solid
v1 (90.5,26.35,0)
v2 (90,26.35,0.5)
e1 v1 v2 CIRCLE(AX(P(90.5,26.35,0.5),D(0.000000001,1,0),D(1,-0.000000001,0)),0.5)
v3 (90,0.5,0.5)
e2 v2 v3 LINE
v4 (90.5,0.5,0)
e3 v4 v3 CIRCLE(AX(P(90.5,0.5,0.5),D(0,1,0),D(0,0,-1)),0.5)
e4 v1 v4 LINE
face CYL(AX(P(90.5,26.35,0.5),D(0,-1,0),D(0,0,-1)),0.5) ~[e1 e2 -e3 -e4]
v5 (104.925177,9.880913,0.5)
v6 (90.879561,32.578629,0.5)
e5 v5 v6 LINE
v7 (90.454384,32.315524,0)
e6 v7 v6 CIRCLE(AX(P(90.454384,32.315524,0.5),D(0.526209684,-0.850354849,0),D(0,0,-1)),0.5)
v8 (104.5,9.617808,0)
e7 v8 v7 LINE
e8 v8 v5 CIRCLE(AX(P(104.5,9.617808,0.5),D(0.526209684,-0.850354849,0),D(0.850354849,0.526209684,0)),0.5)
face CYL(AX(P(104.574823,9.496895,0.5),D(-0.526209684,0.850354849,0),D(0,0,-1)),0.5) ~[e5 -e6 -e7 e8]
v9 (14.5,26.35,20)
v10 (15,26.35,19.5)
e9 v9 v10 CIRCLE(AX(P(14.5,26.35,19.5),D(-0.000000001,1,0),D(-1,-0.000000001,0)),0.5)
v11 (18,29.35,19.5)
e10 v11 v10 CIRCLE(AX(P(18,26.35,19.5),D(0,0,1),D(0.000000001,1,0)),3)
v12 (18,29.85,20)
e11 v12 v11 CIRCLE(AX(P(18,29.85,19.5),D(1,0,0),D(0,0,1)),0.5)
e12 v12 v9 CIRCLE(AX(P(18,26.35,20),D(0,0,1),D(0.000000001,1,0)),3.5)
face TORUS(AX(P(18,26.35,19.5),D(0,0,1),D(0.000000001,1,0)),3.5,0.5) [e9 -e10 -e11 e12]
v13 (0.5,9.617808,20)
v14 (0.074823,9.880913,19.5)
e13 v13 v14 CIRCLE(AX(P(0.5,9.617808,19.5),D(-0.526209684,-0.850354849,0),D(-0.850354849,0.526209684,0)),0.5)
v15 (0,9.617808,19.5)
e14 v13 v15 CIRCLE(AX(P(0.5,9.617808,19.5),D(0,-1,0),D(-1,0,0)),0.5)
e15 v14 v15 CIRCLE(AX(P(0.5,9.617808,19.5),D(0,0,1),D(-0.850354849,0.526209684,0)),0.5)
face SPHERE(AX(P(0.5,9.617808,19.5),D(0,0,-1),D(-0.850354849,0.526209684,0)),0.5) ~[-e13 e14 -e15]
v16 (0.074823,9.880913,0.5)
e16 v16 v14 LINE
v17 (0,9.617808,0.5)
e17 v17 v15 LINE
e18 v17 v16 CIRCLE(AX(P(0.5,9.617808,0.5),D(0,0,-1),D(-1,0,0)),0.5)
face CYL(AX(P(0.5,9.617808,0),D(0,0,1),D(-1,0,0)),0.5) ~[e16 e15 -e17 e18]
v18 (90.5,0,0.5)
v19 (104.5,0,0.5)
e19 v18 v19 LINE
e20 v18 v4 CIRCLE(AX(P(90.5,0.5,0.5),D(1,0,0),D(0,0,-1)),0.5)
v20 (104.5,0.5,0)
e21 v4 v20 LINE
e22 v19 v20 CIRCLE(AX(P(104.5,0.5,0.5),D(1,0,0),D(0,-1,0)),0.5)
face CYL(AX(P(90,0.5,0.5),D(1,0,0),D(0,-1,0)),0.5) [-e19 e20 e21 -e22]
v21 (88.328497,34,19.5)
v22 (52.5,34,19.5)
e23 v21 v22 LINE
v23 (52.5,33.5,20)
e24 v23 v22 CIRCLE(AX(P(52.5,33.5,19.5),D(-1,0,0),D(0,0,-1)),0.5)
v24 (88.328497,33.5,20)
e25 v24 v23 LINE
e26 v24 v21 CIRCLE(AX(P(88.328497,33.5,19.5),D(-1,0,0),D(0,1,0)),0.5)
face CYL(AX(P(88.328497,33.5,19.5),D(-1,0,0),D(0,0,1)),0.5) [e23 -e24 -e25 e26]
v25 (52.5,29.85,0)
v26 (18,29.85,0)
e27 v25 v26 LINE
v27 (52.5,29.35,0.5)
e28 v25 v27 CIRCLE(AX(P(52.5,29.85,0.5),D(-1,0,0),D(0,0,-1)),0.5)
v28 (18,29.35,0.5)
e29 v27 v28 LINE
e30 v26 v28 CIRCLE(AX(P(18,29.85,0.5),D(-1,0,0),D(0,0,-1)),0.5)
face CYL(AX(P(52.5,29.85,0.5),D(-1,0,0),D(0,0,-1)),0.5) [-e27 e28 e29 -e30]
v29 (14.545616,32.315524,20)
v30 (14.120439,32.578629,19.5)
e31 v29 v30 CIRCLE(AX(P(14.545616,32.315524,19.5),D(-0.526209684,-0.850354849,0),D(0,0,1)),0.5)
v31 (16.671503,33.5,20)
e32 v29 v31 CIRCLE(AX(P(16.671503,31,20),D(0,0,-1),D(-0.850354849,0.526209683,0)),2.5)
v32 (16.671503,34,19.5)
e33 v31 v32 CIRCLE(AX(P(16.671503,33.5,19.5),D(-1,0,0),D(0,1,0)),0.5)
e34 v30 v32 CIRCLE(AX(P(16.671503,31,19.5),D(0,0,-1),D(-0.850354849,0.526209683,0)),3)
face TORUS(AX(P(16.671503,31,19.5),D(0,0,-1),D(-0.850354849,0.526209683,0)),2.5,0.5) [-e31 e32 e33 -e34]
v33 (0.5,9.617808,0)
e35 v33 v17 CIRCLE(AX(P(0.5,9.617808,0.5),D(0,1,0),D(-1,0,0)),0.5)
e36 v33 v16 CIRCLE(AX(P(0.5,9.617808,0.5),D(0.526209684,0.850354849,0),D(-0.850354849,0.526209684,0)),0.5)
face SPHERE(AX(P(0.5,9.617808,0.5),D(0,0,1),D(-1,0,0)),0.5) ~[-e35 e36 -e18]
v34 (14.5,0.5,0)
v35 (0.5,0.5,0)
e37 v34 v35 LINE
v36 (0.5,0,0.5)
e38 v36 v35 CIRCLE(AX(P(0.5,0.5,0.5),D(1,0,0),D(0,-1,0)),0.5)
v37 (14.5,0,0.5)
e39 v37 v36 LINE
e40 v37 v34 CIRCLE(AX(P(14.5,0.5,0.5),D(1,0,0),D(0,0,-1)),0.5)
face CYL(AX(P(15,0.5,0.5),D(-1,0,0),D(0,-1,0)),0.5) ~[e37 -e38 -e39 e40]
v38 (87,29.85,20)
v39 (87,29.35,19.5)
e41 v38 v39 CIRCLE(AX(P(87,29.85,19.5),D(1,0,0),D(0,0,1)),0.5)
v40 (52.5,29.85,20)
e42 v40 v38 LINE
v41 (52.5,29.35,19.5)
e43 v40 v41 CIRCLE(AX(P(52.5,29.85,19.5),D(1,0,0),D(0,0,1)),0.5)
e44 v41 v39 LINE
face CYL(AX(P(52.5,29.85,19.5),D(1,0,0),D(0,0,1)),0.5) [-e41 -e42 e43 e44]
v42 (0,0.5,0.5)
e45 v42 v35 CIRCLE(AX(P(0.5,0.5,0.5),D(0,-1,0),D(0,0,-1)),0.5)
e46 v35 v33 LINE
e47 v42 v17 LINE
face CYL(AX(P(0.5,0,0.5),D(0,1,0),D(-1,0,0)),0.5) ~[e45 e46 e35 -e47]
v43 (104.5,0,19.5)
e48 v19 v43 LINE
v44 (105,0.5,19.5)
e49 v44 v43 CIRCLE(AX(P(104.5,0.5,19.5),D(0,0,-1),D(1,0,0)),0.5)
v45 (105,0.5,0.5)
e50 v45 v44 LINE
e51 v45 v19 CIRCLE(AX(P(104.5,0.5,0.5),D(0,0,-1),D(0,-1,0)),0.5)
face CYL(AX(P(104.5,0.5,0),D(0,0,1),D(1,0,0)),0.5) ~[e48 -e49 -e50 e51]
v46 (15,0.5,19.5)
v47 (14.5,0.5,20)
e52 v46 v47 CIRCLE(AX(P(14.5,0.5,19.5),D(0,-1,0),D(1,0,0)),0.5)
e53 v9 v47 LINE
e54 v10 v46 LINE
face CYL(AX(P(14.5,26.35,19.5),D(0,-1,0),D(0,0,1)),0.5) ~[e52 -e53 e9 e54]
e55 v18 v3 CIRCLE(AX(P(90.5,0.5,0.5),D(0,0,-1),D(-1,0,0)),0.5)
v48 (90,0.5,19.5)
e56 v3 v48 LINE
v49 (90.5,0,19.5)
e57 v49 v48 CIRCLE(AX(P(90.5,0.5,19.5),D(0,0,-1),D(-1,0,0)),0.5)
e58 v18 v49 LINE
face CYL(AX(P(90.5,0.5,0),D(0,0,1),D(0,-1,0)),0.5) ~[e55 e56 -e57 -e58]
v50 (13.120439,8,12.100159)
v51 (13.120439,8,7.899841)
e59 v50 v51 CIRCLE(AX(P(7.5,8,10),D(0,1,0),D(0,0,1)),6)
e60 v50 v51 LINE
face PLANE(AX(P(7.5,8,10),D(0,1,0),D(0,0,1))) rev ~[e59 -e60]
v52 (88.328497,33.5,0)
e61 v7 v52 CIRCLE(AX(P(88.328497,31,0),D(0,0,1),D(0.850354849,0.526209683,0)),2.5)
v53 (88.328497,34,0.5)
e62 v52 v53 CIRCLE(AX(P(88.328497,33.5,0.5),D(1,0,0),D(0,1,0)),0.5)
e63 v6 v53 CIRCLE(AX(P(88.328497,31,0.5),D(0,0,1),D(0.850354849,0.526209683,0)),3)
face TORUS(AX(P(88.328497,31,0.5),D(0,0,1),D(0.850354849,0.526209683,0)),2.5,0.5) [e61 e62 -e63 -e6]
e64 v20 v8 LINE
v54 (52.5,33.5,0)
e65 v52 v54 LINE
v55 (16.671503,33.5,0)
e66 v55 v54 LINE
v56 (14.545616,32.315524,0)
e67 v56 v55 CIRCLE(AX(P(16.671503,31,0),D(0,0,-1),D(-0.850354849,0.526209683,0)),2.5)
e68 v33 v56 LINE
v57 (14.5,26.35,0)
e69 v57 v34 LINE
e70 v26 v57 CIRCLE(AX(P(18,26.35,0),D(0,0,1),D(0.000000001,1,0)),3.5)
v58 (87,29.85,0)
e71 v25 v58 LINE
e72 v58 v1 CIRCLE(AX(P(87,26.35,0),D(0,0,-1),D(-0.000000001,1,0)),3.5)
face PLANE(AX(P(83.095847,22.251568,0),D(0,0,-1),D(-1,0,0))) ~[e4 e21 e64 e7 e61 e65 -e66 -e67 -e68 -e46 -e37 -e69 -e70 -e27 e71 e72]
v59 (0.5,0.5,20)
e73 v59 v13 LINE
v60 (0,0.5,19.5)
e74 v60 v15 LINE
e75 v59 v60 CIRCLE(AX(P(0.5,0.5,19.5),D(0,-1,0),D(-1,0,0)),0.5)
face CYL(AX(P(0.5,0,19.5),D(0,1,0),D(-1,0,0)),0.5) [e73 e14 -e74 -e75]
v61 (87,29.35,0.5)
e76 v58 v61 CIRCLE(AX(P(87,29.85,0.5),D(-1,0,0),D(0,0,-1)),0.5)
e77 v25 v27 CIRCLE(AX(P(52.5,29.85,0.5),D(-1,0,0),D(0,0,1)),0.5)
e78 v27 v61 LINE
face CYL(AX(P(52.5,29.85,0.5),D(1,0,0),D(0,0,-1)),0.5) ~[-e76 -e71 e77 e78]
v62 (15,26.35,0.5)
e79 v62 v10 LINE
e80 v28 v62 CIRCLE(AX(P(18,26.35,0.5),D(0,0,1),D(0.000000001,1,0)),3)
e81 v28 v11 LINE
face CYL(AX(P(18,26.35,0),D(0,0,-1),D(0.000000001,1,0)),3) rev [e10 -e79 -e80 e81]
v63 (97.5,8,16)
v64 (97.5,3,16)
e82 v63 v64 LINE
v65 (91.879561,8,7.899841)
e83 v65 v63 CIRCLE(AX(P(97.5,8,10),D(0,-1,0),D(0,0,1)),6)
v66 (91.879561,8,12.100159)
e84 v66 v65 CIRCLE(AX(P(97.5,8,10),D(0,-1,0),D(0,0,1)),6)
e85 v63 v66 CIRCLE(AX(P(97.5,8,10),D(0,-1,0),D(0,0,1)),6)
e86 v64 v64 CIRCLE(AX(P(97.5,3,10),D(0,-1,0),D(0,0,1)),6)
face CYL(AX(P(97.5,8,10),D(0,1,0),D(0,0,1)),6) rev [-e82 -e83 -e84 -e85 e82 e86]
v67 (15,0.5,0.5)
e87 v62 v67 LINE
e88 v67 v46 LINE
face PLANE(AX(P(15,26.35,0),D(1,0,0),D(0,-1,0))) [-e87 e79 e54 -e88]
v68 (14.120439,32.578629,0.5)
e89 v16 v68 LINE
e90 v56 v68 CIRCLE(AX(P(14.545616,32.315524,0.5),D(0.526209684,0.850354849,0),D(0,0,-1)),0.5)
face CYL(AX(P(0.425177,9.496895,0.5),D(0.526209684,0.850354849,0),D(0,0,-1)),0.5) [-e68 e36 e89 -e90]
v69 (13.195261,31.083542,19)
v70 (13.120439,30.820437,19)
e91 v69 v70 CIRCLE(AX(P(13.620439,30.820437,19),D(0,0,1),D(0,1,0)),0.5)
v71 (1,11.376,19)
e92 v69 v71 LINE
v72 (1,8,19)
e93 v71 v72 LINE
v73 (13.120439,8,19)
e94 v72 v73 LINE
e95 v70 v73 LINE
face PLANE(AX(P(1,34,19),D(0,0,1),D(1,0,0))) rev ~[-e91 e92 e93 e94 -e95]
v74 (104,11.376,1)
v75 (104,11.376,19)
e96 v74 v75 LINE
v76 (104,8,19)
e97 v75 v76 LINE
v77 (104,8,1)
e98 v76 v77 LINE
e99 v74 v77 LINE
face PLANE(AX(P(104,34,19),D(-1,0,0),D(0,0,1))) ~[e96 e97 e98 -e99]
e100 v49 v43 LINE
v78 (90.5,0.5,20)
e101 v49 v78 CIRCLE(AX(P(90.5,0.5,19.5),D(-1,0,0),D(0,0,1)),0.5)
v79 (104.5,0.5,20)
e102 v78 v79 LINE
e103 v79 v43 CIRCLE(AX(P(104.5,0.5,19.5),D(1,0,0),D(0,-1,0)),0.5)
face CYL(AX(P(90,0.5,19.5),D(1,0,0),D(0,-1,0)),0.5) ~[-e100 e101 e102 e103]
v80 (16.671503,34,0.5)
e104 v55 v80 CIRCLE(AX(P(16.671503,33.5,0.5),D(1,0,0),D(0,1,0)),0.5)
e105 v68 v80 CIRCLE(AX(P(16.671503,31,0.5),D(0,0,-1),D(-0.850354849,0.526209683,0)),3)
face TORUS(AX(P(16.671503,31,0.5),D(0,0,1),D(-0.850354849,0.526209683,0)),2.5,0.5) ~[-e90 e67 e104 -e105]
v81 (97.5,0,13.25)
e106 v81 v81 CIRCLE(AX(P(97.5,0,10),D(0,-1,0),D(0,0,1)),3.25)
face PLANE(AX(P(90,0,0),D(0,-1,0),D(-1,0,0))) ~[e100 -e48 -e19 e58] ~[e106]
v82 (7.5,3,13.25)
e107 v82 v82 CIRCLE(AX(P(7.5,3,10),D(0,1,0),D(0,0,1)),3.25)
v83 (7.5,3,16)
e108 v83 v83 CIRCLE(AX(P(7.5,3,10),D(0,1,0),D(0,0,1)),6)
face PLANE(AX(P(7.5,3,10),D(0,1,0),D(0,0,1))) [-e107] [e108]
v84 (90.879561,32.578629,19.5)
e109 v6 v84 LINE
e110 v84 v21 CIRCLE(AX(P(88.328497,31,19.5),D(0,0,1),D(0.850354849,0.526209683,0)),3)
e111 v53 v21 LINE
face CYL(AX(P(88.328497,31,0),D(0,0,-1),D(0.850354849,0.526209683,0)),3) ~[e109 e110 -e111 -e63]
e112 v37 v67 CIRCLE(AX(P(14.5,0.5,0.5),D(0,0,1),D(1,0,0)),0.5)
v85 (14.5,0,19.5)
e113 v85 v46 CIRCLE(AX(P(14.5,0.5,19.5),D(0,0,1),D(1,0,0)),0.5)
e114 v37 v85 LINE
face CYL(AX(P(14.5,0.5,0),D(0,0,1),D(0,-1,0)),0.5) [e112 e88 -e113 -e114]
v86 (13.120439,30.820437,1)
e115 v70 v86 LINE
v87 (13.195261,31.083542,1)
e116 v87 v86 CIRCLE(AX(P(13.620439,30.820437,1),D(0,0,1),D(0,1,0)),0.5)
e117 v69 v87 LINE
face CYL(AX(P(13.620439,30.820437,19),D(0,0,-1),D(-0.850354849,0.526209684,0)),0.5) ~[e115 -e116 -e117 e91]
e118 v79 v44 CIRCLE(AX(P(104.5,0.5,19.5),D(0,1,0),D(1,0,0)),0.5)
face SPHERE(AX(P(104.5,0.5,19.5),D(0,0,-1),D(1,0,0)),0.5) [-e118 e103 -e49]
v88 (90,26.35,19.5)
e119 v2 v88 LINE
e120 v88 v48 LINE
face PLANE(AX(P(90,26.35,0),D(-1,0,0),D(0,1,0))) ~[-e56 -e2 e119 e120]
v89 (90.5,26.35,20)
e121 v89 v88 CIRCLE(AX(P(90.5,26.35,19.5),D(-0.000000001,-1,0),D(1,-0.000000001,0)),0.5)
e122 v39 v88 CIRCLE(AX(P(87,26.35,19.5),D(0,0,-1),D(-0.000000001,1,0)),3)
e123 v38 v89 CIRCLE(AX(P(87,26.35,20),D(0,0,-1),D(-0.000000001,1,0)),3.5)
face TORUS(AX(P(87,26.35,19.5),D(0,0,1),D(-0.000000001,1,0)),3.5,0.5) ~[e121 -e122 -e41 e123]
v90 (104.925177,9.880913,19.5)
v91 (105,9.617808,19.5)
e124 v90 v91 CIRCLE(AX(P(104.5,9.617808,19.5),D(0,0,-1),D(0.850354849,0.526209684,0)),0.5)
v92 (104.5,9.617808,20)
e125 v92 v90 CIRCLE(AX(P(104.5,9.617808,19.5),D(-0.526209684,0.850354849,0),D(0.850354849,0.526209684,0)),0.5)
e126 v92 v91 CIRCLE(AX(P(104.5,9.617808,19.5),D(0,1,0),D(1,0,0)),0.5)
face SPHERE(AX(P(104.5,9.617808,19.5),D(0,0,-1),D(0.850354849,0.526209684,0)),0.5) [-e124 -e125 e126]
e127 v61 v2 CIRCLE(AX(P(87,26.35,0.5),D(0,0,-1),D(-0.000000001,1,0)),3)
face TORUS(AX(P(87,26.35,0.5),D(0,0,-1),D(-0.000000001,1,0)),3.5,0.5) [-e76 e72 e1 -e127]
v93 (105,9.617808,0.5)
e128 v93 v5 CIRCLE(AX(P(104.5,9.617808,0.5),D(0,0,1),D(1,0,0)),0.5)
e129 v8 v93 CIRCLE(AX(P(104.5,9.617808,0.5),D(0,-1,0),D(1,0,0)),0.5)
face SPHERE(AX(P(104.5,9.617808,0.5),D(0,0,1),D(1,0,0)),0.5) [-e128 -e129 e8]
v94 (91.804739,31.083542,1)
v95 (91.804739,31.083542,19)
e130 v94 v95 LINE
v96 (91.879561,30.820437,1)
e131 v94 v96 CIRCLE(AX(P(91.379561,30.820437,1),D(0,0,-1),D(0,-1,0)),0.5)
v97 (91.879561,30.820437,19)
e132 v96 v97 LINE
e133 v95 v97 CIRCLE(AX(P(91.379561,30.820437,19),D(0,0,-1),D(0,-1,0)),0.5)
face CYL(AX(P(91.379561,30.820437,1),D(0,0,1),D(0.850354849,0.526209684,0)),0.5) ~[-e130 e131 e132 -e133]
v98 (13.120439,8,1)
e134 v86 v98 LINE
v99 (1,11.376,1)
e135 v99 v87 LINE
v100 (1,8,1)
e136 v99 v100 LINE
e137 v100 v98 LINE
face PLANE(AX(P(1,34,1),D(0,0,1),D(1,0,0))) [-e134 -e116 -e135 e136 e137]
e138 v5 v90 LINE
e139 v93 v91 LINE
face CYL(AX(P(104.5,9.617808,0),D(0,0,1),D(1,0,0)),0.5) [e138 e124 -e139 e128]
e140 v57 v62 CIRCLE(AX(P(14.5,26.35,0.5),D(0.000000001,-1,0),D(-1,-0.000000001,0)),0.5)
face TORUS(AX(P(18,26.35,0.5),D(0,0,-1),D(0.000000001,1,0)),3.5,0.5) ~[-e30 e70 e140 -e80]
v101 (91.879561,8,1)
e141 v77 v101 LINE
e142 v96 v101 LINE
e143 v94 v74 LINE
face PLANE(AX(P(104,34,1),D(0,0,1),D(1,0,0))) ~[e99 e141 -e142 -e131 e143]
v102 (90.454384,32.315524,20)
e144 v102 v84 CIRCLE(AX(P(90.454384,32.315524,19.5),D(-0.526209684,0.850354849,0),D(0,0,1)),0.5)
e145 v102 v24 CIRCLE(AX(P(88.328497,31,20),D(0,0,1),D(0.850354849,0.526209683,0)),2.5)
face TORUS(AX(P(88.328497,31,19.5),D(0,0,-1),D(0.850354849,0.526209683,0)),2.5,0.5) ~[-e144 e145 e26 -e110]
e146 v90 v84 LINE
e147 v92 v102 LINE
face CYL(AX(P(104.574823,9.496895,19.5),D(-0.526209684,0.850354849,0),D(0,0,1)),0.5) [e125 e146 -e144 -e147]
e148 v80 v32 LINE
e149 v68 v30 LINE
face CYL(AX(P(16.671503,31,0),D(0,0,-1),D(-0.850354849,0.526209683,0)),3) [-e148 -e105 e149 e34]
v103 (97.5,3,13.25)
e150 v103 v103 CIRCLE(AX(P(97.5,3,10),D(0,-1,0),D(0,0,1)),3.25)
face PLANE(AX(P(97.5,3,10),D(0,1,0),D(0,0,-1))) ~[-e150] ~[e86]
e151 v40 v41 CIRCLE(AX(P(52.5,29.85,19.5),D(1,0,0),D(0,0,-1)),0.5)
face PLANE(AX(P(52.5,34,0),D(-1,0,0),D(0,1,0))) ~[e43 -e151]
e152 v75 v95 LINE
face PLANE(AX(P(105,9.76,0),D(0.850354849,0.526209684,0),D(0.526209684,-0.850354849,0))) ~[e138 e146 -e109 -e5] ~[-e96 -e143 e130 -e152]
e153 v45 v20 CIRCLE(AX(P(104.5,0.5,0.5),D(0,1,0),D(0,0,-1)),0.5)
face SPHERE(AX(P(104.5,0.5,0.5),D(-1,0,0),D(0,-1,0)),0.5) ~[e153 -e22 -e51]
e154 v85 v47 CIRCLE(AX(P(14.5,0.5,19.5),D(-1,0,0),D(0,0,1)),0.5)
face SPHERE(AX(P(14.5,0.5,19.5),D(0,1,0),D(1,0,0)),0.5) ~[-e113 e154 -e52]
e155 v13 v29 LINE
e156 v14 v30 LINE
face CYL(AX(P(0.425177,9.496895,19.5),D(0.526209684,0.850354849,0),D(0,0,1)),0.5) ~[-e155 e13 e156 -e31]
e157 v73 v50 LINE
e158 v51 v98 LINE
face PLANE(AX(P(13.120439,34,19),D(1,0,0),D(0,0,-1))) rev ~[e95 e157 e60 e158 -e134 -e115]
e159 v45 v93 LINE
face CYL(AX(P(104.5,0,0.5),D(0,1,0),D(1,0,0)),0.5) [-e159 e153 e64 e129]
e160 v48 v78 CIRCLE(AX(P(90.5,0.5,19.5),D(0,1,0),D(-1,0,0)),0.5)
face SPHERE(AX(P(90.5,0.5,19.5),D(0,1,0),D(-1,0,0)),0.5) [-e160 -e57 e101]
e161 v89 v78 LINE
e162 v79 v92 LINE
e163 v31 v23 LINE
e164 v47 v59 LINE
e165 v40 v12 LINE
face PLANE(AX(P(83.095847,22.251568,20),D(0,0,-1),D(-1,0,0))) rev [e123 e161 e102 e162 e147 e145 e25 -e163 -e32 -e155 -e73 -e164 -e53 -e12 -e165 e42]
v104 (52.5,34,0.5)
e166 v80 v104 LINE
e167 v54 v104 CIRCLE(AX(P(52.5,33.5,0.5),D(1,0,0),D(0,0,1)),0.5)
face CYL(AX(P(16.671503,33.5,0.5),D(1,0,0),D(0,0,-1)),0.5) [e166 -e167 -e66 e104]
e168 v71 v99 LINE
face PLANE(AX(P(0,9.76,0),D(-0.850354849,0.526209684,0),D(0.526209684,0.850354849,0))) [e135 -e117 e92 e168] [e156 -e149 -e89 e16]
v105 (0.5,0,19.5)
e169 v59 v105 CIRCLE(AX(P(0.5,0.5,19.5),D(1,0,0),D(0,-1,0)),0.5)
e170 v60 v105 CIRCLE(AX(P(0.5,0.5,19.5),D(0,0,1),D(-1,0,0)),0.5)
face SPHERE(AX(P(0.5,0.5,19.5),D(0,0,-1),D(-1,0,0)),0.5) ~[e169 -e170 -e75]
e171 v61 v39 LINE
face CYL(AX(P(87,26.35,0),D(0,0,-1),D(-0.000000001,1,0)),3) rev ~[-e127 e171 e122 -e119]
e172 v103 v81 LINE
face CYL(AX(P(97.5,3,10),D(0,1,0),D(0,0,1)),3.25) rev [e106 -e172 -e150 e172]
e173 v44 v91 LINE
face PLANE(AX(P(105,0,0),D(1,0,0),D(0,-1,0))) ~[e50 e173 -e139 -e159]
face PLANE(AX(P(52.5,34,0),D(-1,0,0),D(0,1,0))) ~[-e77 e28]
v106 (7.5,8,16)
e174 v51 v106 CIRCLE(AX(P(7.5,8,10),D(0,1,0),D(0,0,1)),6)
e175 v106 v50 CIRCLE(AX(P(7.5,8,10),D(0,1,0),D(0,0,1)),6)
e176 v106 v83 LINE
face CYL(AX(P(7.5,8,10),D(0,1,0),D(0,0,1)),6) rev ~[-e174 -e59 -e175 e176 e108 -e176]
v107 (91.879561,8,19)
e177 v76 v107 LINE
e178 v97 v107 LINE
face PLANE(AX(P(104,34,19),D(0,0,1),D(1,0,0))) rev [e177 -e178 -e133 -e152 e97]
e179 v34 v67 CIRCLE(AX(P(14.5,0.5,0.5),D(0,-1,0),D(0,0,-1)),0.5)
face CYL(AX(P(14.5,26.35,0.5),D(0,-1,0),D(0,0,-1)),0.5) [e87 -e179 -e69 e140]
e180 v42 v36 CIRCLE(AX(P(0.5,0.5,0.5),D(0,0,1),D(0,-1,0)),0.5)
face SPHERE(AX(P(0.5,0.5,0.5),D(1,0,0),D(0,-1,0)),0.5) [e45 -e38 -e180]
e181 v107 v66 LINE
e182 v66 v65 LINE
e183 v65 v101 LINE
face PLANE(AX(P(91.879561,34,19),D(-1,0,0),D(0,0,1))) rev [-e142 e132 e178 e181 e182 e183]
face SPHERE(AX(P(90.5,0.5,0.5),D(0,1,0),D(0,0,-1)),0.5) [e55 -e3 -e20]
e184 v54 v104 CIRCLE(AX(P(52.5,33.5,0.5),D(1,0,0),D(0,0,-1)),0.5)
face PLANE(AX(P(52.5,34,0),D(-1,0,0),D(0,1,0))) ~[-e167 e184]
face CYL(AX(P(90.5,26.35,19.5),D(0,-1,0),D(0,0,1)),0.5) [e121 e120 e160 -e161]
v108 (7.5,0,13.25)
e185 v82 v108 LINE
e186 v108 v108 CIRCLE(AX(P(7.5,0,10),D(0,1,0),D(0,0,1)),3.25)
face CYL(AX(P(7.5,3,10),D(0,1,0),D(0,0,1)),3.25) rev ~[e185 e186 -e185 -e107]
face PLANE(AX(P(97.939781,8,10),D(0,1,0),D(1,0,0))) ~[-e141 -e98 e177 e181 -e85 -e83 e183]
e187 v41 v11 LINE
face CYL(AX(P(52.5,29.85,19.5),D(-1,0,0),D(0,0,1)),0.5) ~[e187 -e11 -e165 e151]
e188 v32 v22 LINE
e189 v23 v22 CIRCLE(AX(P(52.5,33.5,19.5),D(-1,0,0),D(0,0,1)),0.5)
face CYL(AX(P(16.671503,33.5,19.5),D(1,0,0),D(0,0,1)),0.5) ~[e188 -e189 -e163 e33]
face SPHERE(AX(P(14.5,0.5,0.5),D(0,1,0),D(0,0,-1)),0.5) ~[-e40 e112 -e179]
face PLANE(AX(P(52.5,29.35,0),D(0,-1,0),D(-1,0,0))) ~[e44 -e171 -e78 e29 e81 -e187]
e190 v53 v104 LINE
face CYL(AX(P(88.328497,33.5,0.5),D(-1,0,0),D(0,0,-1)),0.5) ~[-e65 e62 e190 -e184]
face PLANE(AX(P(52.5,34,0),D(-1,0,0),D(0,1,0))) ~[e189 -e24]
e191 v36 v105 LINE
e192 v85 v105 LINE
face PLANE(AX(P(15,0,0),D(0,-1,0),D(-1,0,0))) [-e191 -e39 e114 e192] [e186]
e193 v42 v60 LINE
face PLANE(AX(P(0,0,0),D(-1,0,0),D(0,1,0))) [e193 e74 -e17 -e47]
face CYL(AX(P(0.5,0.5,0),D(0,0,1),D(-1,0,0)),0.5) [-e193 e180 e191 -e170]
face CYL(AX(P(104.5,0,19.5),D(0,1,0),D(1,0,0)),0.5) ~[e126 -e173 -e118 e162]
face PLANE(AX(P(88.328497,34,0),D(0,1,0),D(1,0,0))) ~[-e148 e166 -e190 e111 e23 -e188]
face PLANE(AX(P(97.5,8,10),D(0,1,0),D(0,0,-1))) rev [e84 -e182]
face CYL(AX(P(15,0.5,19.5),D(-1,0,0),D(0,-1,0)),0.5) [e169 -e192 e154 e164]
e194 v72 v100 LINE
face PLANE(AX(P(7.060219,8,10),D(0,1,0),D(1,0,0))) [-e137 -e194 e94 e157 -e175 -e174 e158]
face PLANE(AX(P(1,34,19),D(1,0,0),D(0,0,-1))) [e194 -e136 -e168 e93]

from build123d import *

# Parameters (mm, degrees)
BOSS_EXTRUDE1_DEPTH  = 20
SKETCH2_W            = 12.120438769
SKETCH2_H            = 18
CUT_EXTRUDE1_DEPTH   = 26
SKETCH3_R            = 6
CUT_EXTRUDE2_DEPTH   = 5
CUT_EXTRUDE3_REACH   = 66.166
SKETCH4_R            = 3.25
FILLET3_R            = 0.5
FILLET3_OF_MIRROR1_R = 0.5


with BuildPart() as part:
    # Sketch1 → Boss-Extrude1 (new body)
    with BuildSketch(Plane.XY):
        with BuildLine():
            Line((0, 0), (0, 9.76))
            Line((0, 9.76), (14.120438769, 32.578629051))
            ThreePointArc((14.120438769, 32.578629051), (15.211347014, 33.620676168), (16.671503315, 34))
            Line((16.671503315, 34), (52.5, 34))
            Line((52.5, 34), (52.5, 29.35))
            Line((52.5, 29.35), (18, 29.35))
            ThreePointArc((18, 29.35), (15.878679656, 28.471320344), (15, 26.35))
            Line((15, 26.35), (15, 0))
            Line((15, 0), (0, 0))
        make_face()
    boss_extrude1 = extrude(amount=BOSS_EXTRUDE1_DEPTH)

    # Sketch2 → Cut-Extrude1 (cut)
    with BuildSketch(Plane(origin=(0, 34, 0), x_dir=(1, 0, 0), z_dir=(0, 1, 0))):
        with Locations((7.060219385, -10)):
            Rectangle(SKETCH2_W, SKETCH2_H)
    cut_extrude1 = extrude(amount=-CUT_EXTRUDE1_DEPTH, mode=Mode.SUBTRACT)

    # Sketch3 → Cut-Extrude2 (cut)
    with BuildSketch(Plane(origin=(0, 8, 0), x_dir=(1, 0, 0), z_dir=(0, 1, 0))):
        with Locations(Location((7.5, -10, 0), (0, 0, 270))):
            Circle(SKETCH3_R)
    cut_extrude2 = extrude(amount=-CUT_EXTRUDE2_DEPTH, mode=Mode.SUBTRACT)

    # Sketch4 → Cut-Extrude3 (cut, up to next)
    with BuildSketch(Plane(origin=(0, 3, 0), x_dir=(1, 0, 0), z_dir=(0, 1, 0)), mode=Mode.PRIVATE) as cut_extrude3_sk1:
        with Locations(Location((7.5, -10, 0), (0, 0, 270))):
            Circle(SKETCH4_R)
    cut_extrude3_tool1 = extrude(cut_extrude3_sk1.sketch, amount=-CUT_EXTRUDE3_REACH, mode=Mode.PRIVATE) & part.part
    cut_extrude3 = cut_extrude3_tool1.solids().sort_by_distance((7.5, 3, 10))[0]
    add(cut_extrude3, mode=Mode.SUBTRACT)

    # Fillet3
    fillet3_edges = [part.edges().sort_by_distance(p)[0] for p in [
        (15.211347014, 33.620676168, 0),
        (34.585751658, 34, 0),
        (35.25, 29.35, 0),
        (15.878679656, 28.471320344, 0),
        (15, 13.175, 0),
        (7.5, 0, 0),
        (15.878679656, 28.471320344, 20),
        (0, 0, 10),
        (0, 9.76, 10),
        (15, 0, 10),
        (35.25, 29.35, 20),
        (34.585751658, 34, 20),
        (13.120438769, 30.962629051, 10),
        (15.211347014, 33.620676168, 20),
        (7.060219385, 21.169314525, 20),
        (0, 4.88, 20),
        (7.5, 0, 20),
        (15, 13.175, 20),
        (0, 4.88, 0),
        (7.060219385, 21.169314525, 0),
    ]]
    fillet(fillet3_edges, radius=FILLET3_R)

    # Mirror1: Boss-Extrude1, Cut-Extrude1, Cut-Extrude2, Cut-Extrude3 across plane
    add(boss_extrude1.mirror(Plane(origin=(52.5, 34, 20), x_dir=(0, 0, 1), z_dir=(-1, 0, 0))))
    add(cut_extrude1.mirror(Plane(origin=(52.5, 34, 20), x_dir=(0, 0, 1), z_dir=(-1, 0, 0))), mode=Mode.SUBTRACT)
    add(cut_extrude2.mirror(Plane(origin=(52.5, 34, 20), x_dir=(0, 0, 1), z_dir=(-1, 0, 0))), mode=Mode.SUBTRACT)
    add(cut_extrude3.mirror(Plane(origin=(52.5, 34, 20), x_dir=(0, 0, 1), z_dir=(-1, 0, 0))), mode=Mode.SUBTRACT)

    # Fillet3 of Mirror1
    fillet3_of_mirror1_edges = [part.edges().sort_by_distance(p)[0] for p in [
        (89.788652986, 33.620676168, 0),
        (70.414248342, 34, 0),
        (69.75, 29.35, 0),
        (89.121320344, 28.471320344, 0),
        (90, 13.175, 0),
        (97.5, 0, 0),
        (89.121320344, 28.471320344, 20),
        (105, 0, 10),
        (105, 9.76, 10),
        (90, 0, 10),
        (69.75, 29.35, 20),
        (70.414248342, 34, 20),
        (91.879561231, 30.962629051, 10),
        (89.788652986, 33.620676168, 20),
        (97.939780615, 21.169314525, 20),
        (105, 4.88, 20),
        (97.5, 0, 20),
        (90, 13.175, 20),
        (105, 4.88, 0),
        (97.939780615, 21.169314525, 0),
    ]]
    fillet(fillet3_of_mirror1_edges, radius=FILLET3_OF_MIRROR1_R)


solid = part.part
